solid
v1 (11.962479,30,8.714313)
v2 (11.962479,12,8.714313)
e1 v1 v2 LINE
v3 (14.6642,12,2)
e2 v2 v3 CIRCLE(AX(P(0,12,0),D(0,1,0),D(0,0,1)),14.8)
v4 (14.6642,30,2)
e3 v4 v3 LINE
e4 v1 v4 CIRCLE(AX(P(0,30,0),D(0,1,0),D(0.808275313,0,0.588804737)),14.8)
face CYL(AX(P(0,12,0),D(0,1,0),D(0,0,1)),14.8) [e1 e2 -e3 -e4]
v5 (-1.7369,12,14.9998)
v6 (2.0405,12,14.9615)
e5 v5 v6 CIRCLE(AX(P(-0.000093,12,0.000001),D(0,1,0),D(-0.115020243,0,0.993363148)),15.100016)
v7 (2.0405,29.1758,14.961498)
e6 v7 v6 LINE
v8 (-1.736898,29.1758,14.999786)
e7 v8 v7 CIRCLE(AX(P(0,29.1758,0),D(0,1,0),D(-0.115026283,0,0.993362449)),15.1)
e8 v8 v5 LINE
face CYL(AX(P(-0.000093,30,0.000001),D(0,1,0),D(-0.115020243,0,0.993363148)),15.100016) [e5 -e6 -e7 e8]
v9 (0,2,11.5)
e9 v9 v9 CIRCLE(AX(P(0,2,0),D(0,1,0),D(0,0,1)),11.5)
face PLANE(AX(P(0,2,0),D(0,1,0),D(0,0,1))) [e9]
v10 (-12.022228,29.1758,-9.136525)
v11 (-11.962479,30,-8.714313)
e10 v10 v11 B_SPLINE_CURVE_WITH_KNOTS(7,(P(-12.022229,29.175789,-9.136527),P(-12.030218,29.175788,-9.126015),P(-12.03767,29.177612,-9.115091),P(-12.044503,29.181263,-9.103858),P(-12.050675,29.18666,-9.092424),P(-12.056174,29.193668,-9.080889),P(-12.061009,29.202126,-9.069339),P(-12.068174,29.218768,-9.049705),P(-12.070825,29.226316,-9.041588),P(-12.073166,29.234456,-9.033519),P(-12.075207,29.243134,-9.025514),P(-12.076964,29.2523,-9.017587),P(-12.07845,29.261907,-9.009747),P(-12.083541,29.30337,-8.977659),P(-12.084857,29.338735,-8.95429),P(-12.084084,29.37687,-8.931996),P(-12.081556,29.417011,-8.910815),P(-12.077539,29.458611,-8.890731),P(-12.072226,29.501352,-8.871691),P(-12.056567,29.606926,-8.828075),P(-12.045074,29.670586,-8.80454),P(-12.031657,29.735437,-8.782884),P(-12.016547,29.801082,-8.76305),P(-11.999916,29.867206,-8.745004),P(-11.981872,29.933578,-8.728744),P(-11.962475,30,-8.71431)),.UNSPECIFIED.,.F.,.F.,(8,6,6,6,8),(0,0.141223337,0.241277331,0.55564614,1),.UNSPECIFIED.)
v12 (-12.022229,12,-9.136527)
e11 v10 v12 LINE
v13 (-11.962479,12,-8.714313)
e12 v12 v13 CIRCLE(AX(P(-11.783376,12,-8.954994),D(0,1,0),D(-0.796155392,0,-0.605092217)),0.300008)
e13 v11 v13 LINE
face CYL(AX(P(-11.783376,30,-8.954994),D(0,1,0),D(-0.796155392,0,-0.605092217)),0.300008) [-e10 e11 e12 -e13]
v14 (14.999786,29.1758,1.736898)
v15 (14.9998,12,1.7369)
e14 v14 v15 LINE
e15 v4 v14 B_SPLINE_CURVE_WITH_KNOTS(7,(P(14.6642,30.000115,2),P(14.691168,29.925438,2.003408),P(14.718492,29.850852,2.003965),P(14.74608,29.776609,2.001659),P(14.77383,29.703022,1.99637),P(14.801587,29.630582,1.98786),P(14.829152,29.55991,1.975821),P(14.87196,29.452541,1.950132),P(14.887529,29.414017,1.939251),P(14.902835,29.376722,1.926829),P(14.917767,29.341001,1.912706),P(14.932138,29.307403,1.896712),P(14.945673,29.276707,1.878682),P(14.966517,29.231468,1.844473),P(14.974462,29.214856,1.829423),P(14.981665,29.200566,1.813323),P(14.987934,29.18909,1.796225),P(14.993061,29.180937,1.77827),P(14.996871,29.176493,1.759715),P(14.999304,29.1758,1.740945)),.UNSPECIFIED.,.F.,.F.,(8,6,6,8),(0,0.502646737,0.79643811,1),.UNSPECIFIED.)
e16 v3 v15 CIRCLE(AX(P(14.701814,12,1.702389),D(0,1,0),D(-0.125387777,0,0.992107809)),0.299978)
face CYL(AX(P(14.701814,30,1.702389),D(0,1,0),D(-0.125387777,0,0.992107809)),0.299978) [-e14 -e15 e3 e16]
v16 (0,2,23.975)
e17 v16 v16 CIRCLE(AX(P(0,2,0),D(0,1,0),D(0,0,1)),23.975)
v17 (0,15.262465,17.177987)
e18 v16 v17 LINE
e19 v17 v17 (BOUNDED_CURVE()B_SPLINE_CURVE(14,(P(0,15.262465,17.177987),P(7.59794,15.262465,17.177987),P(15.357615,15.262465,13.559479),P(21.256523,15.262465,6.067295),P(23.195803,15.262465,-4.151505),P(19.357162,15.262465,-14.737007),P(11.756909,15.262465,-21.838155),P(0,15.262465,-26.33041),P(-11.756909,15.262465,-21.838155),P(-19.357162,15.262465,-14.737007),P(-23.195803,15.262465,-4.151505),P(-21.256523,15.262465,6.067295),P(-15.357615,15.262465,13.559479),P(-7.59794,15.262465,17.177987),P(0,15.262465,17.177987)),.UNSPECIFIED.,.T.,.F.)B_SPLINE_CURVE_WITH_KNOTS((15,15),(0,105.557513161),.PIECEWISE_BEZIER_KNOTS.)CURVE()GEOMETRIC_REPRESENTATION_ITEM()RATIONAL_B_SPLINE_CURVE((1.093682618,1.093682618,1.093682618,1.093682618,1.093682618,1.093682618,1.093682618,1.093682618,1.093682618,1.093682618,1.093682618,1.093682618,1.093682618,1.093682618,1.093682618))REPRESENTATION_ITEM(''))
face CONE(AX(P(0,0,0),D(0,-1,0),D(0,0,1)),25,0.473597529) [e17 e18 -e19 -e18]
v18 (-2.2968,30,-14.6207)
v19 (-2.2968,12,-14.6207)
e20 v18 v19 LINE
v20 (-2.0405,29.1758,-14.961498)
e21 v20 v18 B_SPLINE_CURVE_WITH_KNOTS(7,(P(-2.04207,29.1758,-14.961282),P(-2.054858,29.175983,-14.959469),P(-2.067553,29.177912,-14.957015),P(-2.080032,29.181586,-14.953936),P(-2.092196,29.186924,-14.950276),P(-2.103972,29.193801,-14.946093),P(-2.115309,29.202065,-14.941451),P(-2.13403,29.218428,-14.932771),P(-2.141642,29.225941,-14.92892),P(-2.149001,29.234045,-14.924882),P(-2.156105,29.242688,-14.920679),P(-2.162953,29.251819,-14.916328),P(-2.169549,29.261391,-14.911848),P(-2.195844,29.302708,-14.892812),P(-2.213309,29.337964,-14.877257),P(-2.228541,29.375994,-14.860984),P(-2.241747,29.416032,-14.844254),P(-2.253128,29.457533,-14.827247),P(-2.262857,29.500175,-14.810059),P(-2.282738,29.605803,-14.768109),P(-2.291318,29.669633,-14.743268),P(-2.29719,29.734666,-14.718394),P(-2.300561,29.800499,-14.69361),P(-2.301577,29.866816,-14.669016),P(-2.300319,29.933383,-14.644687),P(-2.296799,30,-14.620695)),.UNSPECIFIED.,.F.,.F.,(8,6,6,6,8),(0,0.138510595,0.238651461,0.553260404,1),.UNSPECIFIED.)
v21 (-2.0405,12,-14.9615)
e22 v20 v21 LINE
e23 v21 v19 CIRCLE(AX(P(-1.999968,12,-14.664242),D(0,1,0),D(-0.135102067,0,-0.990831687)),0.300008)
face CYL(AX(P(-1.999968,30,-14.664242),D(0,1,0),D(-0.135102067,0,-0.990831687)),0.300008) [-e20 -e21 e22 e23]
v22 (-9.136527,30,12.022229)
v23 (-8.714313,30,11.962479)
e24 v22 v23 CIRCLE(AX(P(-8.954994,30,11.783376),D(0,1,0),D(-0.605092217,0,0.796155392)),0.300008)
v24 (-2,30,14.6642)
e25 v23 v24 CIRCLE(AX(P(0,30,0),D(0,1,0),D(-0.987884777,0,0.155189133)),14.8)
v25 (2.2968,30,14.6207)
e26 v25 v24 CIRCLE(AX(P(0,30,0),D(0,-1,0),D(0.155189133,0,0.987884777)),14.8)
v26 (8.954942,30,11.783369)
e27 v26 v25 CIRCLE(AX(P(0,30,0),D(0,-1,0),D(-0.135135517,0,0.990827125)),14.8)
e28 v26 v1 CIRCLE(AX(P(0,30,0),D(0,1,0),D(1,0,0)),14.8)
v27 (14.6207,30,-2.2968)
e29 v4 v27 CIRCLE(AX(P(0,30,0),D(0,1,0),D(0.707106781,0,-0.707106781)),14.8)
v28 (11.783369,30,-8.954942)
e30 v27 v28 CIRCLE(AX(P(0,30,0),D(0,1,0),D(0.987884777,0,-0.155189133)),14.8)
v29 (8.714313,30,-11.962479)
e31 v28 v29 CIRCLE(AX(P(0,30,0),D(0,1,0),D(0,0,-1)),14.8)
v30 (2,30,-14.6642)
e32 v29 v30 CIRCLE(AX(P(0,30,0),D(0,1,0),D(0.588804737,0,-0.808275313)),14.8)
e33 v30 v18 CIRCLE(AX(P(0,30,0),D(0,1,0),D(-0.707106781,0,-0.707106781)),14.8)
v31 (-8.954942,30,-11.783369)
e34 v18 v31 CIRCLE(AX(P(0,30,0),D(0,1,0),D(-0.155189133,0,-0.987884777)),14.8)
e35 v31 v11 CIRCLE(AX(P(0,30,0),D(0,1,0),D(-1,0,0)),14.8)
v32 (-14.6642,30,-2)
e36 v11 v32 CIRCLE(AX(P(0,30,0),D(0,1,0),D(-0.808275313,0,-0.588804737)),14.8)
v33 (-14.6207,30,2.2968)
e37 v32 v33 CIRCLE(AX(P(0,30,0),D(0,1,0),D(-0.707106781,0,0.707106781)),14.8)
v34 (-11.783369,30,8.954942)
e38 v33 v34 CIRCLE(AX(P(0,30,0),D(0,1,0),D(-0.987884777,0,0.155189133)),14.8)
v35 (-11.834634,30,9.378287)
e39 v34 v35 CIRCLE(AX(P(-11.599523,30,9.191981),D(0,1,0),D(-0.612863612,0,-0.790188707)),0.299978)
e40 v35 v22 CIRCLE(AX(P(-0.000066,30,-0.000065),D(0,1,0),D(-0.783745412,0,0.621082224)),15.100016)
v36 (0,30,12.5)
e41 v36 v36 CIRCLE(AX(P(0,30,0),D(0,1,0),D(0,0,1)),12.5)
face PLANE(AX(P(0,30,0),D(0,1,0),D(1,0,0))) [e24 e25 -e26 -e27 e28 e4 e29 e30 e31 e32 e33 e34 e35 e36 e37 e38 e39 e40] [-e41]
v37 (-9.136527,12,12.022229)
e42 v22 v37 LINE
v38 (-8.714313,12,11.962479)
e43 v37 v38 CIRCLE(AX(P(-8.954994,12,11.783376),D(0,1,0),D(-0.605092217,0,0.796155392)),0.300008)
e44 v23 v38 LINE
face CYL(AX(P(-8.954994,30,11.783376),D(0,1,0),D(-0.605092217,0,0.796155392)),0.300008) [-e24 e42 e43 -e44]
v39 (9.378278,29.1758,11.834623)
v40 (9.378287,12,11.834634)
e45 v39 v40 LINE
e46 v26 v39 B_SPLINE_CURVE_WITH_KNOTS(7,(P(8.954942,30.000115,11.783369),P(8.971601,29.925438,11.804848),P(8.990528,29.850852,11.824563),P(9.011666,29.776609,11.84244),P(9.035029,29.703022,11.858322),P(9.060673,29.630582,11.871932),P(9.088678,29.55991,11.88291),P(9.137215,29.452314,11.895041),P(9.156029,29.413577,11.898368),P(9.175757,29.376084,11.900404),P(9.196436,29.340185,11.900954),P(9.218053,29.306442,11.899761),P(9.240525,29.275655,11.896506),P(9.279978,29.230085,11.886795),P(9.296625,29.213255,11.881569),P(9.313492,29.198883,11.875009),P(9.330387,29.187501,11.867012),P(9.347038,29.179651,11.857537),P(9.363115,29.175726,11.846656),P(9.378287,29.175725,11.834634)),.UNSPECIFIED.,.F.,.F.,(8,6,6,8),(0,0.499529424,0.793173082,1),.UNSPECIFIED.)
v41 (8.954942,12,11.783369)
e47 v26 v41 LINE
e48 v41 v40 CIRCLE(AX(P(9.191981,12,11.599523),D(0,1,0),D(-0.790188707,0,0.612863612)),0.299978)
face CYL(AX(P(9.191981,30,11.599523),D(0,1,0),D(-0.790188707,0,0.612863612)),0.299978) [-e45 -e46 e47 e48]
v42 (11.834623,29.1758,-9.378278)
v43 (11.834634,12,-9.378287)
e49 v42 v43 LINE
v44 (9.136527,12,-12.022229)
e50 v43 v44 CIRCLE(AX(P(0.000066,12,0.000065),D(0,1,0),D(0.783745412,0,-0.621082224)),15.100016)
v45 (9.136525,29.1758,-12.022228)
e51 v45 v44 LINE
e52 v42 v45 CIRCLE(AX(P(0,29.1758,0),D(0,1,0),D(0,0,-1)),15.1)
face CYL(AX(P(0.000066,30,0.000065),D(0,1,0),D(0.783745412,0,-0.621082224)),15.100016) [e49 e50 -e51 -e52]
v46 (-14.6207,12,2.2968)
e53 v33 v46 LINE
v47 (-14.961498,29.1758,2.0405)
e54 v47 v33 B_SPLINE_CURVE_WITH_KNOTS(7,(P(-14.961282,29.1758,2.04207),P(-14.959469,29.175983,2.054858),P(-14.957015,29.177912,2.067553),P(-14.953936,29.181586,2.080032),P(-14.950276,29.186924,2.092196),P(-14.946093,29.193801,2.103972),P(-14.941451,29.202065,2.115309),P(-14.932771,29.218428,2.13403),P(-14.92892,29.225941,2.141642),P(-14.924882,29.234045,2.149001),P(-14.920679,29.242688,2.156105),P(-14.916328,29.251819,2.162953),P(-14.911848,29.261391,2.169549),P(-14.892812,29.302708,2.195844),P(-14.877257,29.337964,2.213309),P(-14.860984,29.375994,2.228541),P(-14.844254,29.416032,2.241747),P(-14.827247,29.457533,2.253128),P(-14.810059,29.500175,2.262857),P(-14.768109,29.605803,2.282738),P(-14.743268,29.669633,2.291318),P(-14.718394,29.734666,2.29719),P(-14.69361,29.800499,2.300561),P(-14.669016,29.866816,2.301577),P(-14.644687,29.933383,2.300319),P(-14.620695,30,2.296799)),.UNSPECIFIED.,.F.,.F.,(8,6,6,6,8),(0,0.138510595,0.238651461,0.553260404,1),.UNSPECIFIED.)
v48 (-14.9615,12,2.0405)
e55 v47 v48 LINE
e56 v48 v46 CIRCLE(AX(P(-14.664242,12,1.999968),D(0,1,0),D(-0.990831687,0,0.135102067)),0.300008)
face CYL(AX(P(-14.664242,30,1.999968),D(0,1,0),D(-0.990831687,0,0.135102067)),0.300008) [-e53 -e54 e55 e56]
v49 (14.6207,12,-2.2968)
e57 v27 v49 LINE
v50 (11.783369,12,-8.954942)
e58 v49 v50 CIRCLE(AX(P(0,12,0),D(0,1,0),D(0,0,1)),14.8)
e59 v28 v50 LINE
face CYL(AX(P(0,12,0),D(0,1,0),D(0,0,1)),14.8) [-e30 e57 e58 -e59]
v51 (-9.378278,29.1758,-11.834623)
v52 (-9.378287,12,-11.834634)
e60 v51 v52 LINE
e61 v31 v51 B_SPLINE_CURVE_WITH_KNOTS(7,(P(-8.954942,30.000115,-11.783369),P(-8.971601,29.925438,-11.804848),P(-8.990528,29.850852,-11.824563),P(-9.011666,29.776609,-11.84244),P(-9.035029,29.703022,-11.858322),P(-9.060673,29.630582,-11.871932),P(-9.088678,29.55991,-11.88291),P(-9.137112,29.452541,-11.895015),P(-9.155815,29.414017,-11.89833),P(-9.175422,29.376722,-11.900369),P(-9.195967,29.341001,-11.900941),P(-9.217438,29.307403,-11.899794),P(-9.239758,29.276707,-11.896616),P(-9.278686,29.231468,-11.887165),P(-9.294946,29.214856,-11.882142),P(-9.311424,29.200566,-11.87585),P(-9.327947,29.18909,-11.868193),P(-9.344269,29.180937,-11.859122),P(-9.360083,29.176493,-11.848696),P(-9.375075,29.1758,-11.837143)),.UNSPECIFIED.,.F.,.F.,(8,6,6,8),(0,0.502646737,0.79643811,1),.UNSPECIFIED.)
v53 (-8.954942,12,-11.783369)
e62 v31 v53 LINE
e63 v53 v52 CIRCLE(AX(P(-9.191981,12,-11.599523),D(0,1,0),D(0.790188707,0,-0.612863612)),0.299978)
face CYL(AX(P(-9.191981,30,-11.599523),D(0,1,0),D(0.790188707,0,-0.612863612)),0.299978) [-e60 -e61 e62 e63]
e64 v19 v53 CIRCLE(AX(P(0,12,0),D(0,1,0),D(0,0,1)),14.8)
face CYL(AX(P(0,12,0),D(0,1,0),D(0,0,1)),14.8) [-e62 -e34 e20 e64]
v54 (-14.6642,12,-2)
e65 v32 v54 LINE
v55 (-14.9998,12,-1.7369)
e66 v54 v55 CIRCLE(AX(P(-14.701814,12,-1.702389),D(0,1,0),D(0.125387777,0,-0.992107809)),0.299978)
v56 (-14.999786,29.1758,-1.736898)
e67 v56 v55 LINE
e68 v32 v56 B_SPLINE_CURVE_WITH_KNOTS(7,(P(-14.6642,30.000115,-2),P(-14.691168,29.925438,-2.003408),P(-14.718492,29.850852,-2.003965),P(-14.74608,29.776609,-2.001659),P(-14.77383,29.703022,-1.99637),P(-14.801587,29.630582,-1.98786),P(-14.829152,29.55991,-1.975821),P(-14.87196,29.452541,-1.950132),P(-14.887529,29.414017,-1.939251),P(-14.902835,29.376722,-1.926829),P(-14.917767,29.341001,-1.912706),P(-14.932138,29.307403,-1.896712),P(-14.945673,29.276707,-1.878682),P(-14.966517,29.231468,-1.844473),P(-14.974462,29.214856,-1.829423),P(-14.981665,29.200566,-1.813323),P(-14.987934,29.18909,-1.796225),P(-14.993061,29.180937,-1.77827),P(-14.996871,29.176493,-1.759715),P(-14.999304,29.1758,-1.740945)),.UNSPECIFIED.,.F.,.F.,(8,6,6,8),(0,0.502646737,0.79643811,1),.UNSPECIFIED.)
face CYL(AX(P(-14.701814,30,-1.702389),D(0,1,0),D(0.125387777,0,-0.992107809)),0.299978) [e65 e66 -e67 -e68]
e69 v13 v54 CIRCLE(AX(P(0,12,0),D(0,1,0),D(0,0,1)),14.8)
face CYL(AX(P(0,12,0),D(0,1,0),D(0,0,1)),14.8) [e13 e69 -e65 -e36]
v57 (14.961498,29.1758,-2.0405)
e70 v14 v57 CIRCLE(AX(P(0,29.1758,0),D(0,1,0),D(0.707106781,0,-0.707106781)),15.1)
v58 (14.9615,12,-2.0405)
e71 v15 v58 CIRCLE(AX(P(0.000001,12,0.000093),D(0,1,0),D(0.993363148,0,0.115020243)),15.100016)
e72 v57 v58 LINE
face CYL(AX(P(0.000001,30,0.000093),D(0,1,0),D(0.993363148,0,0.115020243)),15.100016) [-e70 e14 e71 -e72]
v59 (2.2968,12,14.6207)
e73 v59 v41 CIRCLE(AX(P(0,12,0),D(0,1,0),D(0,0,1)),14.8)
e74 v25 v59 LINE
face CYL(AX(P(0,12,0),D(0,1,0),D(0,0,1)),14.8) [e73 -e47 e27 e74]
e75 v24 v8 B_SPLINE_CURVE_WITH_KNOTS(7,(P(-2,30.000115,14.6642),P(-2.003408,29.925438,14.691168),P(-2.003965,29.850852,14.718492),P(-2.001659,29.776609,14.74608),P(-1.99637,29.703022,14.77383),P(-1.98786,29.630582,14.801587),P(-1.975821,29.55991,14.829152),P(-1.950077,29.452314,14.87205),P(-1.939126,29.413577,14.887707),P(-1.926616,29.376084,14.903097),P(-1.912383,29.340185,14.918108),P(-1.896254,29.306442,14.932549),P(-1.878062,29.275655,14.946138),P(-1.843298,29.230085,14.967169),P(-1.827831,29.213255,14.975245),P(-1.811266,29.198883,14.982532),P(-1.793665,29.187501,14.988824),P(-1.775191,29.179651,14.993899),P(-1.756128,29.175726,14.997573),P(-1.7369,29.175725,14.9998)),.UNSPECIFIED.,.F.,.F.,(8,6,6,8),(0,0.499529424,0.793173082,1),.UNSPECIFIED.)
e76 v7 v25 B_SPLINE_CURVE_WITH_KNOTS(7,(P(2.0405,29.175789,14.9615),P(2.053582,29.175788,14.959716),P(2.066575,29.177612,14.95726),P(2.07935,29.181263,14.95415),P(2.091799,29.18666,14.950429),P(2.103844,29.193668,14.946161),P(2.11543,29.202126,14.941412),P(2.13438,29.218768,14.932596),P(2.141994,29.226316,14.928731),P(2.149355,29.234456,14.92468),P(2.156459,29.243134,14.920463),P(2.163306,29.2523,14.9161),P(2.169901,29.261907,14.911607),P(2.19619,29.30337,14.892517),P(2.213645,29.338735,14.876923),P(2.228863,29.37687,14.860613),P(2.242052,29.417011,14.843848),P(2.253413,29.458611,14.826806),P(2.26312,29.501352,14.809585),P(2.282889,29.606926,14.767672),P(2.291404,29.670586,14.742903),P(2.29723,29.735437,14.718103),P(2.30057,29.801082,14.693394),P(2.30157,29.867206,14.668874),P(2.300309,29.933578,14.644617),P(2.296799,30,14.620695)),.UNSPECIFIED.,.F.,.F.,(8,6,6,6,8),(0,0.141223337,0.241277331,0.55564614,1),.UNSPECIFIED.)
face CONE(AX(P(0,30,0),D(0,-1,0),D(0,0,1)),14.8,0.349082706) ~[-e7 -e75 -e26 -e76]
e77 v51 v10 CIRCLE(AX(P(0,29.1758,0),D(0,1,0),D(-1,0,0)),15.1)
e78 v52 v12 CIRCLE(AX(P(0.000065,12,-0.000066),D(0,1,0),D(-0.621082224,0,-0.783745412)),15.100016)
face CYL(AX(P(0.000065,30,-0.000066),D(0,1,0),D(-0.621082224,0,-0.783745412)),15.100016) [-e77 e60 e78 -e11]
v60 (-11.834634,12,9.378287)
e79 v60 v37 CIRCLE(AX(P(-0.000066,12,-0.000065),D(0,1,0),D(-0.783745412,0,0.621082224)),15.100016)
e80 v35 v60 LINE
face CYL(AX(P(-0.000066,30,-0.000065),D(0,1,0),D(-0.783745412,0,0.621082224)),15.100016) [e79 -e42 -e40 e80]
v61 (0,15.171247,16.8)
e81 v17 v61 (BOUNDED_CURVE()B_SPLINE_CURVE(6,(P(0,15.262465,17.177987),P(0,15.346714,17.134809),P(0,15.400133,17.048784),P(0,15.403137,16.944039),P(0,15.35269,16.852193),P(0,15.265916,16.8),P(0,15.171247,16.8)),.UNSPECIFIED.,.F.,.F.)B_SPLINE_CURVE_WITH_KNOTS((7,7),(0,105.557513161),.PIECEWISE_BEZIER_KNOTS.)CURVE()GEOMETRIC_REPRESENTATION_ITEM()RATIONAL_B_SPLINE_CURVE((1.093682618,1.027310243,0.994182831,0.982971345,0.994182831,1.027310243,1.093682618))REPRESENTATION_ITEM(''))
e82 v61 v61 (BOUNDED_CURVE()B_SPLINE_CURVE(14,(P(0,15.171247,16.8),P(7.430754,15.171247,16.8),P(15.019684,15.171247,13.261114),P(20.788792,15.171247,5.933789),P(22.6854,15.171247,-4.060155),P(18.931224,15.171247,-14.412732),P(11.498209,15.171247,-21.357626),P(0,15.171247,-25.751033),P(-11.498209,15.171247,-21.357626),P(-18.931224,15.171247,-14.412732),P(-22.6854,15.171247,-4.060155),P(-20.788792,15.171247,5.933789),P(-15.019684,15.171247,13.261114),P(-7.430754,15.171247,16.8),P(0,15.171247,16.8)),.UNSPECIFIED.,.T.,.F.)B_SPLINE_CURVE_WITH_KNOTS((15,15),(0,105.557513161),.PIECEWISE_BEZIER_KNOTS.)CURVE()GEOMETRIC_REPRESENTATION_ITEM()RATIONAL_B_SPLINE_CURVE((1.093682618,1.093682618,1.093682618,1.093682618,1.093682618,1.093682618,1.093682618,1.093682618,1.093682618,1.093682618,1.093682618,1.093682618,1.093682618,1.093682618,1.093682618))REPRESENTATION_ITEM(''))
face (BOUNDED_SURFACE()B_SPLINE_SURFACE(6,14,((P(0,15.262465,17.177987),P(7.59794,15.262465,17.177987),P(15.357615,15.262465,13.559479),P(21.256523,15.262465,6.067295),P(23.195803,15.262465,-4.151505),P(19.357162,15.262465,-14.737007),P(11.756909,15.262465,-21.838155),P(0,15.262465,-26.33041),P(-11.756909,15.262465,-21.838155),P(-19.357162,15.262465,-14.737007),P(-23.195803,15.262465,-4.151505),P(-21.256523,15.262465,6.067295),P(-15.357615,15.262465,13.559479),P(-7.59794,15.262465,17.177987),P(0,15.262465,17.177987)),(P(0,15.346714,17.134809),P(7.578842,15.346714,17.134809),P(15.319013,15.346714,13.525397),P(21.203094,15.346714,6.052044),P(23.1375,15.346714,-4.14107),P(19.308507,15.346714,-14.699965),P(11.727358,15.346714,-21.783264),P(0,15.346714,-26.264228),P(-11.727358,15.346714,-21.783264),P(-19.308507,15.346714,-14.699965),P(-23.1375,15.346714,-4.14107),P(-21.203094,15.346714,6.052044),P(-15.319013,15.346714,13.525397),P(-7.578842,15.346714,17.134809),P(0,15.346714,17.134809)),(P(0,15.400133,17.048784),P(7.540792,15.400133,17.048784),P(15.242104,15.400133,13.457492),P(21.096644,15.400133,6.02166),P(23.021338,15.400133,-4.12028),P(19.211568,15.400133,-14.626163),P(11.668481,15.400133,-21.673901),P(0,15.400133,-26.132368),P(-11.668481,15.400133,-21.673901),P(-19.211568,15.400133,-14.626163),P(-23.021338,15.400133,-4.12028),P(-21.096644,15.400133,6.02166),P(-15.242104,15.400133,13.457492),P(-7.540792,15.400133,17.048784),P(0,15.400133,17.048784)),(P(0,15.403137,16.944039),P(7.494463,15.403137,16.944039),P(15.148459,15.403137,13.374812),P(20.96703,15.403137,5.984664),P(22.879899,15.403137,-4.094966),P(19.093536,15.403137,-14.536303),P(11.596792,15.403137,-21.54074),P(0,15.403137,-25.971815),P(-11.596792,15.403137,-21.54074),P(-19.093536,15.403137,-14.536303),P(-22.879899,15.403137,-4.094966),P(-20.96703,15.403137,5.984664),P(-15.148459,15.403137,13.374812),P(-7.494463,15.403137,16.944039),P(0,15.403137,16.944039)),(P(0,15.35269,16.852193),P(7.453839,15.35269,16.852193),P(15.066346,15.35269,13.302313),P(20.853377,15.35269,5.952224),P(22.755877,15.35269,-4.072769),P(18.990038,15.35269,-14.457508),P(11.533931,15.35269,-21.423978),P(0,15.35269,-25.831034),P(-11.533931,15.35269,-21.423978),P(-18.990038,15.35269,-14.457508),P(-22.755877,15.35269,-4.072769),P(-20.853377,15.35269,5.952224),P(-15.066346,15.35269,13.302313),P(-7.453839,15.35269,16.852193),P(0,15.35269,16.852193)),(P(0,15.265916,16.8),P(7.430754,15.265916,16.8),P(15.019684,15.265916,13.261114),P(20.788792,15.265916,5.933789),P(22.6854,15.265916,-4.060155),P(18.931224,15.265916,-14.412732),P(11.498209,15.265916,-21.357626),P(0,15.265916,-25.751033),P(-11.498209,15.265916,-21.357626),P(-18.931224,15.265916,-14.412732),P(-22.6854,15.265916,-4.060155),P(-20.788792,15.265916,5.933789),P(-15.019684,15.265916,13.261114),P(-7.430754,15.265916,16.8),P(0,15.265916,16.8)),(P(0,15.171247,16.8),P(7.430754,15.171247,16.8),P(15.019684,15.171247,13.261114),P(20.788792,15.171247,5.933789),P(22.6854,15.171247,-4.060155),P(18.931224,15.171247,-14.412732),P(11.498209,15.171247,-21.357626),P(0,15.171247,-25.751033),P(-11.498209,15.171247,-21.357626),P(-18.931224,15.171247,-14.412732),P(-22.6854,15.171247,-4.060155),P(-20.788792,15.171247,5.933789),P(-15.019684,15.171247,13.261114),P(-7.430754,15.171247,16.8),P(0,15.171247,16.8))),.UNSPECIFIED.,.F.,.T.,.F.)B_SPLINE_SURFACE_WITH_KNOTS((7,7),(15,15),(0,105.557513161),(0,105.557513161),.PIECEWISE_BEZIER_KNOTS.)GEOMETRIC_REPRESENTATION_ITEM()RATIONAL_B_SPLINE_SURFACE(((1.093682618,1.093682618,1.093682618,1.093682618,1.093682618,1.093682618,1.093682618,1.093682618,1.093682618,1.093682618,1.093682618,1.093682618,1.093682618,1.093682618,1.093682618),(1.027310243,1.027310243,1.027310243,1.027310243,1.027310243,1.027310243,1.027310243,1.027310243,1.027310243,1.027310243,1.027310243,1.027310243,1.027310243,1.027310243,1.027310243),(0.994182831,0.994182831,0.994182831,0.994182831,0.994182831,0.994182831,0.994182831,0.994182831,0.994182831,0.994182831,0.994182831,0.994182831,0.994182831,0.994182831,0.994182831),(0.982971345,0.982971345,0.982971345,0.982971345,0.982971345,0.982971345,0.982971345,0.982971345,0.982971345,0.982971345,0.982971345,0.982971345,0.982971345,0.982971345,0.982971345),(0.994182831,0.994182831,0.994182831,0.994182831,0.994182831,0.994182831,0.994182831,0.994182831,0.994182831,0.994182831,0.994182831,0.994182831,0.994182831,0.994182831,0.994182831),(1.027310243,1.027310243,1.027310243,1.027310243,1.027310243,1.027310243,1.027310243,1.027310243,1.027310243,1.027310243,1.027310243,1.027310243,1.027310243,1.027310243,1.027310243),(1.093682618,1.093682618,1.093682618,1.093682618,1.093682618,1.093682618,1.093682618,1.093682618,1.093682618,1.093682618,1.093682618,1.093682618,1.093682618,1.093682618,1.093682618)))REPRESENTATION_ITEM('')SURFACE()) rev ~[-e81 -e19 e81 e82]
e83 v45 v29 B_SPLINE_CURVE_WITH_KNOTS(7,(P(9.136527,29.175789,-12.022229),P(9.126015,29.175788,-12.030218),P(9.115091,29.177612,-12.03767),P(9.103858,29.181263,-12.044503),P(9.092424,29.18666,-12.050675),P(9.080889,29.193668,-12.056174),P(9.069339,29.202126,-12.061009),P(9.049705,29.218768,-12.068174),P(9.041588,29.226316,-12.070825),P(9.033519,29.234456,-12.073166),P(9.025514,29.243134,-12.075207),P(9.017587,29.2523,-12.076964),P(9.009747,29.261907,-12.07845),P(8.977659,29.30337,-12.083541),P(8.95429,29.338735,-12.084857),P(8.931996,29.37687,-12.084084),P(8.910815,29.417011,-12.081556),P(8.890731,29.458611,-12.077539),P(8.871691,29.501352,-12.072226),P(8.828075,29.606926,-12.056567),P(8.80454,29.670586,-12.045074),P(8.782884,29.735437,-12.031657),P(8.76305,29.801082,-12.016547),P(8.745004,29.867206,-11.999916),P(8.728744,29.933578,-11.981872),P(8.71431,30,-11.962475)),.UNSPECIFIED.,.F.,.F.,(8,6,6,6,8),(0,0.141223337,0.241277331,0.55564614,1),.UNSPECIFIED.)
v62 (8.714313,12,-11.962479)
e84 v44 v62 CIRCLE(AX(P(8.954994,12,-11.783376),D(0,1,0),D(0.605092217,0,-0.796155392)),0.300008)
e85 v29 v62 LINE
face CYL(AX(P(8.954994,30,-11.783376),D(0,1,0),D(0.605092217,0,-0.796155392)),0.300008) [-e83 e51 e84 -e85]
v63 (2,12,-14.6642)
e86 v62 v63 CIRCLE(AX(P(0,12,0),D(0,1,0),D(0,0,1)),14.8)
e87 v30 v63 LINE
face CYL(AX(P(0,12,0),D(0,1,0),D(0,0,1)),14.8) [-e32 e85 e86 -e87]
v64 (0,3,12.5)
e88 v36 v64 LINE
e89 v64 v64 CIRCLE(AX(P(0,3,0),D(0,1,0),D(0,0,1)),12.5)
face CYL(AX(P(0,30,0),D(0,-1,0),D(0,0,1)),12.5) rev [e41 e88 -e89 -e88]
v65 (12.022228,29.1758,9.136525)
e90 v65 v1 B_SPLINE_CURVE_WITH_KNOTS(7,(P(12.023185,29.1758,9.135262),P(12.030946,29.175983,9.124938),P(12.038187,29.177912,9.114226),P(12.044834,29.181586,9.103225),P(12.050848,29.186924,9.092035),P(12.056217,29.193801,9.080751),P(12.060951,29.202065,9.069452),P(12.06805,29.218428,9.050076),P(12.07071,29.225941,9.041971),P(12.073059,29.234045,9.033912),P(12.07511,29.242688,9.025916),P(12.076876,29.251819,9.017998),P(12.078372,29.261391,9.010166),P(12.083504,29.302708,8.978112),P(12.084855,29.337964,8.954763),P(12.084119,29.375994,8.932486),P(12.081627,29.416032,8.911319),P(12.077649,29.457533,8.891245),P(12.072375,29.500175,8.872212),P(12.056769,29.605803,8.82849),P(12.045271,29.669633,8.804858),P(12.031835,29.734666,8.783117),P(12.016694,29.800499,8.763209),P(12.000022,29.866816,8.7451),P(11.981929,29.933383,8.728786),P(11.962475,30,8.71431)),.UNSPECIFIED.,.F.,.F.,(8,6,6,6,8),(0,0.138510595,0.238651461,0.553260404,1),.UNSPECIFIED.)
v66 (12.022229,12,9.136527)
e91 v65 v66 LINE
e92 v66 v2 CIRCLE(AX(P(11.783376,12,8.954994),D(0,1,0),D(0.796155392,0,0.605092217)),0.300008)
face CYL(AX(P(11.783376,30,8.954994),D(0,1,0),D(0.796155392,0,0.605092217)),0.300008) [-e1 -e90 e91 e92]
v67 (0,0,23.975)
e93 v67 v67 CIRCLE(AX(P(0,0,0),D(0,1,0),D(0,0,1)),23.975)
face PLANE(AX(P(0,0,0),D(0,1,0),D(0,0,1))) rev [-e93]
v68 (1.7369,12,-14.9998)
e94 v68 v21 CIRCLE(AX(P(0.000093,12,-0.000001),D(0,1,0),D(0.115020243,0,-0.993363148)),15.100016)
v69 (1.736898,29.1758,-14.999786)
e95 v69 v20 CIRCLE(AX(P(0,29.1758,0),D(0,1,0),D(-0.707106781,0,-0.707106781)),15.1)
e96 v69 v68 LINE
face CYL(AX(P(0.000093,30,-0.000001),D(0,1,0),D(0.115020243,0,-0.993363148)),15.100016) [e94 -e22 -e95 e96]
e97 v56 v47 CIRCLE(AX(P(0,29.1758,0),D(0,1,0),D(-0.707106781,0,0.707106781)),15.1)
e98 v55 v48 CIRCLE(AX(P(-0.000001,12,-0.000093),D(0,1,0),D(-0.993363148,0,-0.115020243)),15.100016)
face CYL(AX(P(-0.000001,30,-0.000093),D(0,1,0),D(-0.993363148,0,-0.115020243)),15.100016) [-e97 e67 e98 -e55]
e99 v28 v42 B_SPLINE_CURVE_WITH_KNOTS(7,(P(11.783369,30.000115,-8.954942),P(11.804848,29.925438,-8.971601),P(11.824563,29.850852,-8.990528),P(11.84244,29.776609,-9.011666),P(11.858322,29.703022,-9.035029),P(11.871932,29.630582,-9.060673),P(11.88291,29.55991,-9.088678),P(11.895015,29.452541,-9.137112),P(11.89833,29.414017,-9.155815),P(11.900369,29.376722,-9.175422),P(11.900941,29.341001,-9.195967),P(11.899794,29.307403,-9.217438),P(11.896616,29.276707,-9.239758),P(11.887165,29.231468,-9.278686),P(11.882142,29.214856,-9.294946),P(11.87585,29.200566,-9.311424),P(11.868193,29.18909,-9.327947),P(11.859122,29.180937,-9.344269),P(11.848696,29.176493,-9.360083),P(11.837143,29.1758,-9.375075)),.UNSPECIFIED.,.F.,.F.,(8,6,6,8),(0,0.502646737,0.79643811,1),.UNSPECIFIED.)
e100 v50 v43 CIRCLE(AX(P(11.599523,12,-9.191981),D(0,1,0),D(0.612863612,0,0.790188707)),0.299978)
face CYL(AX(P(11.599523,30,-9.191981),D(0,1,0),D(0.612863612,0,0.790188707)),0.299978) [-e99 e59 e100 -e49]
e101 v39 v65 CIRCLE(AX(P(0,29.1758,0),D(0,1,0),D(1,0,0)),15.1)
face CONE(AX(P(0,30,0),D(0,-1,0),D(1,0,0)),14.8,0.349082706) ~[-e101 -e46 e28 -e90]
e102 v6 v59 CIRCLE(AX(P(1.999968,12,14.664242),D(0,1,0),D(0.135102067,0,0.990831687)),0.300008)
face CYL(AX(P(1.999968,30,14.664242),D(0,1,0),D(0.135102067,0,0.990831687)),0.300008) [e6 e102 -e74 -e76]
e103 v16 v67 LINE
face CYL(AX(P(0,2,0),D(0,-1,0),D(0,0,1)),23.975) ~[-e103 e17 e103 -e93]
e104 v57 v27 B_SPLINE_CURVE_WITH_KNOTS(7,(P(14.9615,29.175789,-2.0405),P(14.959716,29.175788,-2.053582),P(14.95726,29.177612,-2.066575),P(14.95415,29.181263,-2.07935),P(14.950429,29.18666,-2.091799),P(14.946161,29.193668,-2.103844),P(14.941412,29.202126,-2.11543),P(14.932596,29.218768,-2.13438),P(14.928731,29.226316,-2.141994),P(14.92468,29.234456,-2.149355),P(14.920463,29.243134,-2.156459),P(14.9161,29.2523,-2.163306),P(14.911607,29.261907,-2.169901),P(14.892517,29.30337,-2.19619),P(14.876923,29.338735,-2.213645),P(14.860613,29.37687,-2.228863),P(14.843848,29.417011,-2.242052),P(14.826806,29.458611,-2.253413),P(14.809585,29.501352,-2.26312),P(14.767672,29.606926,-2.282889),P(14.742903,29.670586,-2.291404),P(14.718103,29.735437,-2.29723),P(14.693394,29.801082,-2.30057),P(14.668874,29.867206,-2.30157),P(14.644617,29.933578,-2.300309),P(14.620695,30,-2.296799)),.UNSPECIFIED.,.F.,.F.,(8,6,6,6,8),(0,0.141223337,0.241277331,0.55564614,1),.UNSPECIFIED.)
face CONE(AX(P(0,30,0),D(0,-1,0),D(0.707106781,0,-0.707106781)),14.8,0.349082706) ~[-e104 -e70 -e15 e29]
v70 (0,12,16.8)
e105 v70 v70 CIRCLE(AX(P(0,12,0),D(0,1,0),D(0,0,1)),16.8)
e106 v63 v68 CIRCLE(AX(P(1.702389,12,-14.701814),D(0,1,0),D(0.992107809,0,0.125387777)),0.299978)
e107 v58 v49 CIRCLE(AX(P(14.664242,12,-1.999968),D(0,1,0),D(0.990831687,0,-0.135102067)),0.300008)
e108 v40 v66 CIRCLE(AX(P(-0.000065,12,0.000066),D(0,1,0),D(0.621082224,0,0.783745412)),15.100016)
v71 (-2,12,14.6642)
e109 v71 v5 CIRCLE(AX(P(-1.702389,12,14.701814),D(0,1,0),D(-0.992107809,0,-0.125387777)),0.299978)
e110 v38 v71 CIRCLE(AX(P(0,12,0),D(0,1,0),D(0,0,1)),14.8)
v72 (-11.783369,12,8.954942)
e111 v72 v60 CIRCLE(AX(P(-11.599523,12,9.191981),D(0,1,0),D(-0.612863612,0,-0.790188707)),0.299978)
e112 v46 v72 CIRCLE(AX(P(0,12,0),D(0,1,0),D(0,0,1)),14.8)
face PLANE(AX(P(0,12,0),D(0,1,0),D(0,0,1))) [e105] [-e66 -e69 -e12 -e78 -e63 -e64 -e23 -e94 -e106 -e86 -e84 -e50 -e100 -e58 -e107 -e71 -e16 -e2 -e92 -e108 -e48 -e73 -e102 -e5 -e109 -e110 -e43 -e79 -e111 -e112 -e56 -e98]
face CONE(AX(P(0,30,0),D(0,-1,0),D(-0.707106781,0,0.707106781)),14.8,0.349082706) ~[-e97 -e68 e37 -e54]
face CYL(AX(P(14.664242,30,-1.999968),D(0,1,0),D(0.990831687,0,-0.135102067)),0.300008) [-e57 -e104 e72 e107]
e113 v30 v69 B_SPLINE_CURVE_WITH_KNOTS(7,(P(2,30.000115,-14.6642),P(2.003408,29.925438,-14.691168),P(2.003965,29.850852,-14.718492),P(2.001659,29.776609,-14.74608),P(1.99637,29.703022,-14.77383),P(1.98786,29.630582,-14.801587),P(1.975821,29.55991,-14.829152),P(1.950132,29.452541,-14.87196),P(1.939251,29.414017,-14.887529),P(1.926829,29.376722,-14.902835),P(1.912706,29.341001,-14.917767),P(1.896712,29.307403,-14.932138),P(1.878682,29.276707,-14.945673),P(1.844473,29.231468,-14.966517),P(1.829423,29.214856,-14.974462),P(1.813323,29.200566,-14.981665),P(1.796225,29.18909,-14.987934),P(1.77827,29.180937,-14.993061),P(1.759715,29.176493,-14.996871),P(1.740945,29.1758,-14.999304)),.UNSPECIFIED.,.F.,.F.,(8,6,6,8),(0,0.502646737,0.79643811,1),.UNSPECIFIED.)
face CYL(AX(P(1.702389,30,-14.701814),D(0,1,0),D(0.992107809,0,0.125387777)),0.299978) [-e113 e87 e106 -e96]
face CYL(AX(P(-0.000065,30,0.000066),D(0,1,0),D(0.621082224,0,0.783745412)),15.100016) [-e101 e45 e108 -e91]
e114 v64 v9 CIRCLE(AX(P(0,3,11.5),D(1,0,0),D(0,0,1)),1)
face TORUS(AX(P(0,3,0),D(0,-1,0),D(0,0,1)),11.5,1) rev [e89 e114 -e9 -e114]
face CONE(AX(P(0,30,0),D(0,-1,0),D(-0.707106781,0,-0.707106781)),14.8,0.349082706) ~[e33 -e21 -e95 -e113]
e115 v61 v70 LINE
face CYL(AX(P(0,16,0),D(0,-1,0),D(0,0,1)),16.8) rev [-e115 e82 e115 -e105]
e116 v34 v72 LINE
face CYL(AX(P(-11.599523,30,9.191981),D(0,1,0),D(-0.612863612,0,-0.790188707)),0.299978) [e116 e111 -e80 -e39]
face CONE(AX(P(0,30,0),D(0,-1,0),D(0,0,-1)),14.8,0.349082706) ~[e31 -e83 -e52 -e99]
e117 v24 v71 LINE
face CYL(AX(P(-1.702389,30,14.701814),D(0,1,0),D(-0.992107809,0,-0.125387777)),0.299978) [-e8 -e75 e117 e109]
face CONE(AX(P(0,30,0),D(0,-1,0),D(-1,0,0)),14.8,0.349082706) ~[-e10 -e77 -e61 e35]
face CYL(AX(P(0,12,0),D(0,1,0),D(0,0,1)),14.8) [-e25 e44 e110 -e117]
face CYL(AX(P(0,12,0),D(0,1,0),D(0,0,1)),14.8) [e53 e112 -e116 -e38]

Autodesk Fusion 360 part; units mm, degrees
sketch "Skizze1" plane through (0, 0, 0) normal (1, 0, 0) x (0, 0, -1)
  line L0 (0, 0) -> (-25, 0)
  line L1 (-25, 0) -> (-16.8, 16)
  line L2 (-16.8, 16) -> (-16.8, 12)
  line L3 (-16.8, 12) -> (-14.8, 12)
  line L4 (-14.8, 12) -> (-14.8, 30)
  line L5 (-14.8, 30) -> (-12.5, 30)
  line L6 (-12.5, 30) -> (-12.5, 3)
  arc A0 (-12.5, 3) -> (-11.5, 2) centre (-11.5, 3) ccw
  line L7 (-11.5, 2) -> (0, 2)
  line L8 (0, 2) -> (0, 0)
  line L9 (-23.975, 2) -> (-23.975, 0)
  dimension "d1" = 30
  dimension "d2" = 18
  dimension "d3" = 12.5
  dimension "d4" = 2
  dimension "d5" = 14.8
  dimension "d6" = 14
  dimension "d7" = 1
  dimension "d8" = 28
  dimension "d9" = 25
  dimension "d10" = 2
revolve "Drehen1" add sketch "Skizze1" angle 360 about axis through (0, 1.75, 0) along (0, 1, 0) contours L0 L1 L2 L3 L4 L5 L6 A0 L7 L8 L9
fillet "Abrundung1" radius 0.2 1 edges at (-15.6631, 16, 6.0751)
ref_plane "Arbeitsebene1" through (0, 30, 0) normal (0, 1, 0) x (0, 0, 1)
sketch "Skizze2" plane through (0, 30, 0) normal (0, 1, 0) x (1, 0, 0)
  arc A0 (-2, -14.6642) -> (2.2968, -14.6207) centre (0, 0) ccw
  arc A1 (-1.7369, -14.9998) -> (2.0405, -14.9615) centre (0, 0) ccw
  arc A2 (2.0405, -14.9615) -> (2.2968, -14.6207) centre (2, -14.6642) ccw
  arc A3 (-2, -14.6642) -> (-1.7369, -14.9998) centre (-1.7024, -14.7018) ccw
  dimension "d15" = 14.8
  dimension "d16" = 15.1
  dimension "d17" = 4
  dimension "d18" = 2
extrude "Extrusion1" add sketch "Skizze2" against normal blind 18
sketch "Skizze3" plane through (0, 0, 0) normal (1, 0, 0) x (0, 0, -1)
  line L0 (-14.8, 30) -> (-15.1, 29.1758)
  line L1 (-15.1, 29.1758) -> (-15.1, 30)
  line L2 (-15.1, 30) -> (-14.8, 30)
  dimension "d21" = 14.8
  dimension "d22" = 0.3
  dimension "d23" = 20
  dimension "d24" = 30
revolve "Drehen2" cut sketch "Skizze3" angle 360 about axis through (0, 1.75, 0) along (0, 1, 0)
pattern_circular "C-Anordnung1" count 8 over 360 about axis through (0, 1.75, 0) along (0, 1, 0) of "Drehen2", "Extrusion1"
